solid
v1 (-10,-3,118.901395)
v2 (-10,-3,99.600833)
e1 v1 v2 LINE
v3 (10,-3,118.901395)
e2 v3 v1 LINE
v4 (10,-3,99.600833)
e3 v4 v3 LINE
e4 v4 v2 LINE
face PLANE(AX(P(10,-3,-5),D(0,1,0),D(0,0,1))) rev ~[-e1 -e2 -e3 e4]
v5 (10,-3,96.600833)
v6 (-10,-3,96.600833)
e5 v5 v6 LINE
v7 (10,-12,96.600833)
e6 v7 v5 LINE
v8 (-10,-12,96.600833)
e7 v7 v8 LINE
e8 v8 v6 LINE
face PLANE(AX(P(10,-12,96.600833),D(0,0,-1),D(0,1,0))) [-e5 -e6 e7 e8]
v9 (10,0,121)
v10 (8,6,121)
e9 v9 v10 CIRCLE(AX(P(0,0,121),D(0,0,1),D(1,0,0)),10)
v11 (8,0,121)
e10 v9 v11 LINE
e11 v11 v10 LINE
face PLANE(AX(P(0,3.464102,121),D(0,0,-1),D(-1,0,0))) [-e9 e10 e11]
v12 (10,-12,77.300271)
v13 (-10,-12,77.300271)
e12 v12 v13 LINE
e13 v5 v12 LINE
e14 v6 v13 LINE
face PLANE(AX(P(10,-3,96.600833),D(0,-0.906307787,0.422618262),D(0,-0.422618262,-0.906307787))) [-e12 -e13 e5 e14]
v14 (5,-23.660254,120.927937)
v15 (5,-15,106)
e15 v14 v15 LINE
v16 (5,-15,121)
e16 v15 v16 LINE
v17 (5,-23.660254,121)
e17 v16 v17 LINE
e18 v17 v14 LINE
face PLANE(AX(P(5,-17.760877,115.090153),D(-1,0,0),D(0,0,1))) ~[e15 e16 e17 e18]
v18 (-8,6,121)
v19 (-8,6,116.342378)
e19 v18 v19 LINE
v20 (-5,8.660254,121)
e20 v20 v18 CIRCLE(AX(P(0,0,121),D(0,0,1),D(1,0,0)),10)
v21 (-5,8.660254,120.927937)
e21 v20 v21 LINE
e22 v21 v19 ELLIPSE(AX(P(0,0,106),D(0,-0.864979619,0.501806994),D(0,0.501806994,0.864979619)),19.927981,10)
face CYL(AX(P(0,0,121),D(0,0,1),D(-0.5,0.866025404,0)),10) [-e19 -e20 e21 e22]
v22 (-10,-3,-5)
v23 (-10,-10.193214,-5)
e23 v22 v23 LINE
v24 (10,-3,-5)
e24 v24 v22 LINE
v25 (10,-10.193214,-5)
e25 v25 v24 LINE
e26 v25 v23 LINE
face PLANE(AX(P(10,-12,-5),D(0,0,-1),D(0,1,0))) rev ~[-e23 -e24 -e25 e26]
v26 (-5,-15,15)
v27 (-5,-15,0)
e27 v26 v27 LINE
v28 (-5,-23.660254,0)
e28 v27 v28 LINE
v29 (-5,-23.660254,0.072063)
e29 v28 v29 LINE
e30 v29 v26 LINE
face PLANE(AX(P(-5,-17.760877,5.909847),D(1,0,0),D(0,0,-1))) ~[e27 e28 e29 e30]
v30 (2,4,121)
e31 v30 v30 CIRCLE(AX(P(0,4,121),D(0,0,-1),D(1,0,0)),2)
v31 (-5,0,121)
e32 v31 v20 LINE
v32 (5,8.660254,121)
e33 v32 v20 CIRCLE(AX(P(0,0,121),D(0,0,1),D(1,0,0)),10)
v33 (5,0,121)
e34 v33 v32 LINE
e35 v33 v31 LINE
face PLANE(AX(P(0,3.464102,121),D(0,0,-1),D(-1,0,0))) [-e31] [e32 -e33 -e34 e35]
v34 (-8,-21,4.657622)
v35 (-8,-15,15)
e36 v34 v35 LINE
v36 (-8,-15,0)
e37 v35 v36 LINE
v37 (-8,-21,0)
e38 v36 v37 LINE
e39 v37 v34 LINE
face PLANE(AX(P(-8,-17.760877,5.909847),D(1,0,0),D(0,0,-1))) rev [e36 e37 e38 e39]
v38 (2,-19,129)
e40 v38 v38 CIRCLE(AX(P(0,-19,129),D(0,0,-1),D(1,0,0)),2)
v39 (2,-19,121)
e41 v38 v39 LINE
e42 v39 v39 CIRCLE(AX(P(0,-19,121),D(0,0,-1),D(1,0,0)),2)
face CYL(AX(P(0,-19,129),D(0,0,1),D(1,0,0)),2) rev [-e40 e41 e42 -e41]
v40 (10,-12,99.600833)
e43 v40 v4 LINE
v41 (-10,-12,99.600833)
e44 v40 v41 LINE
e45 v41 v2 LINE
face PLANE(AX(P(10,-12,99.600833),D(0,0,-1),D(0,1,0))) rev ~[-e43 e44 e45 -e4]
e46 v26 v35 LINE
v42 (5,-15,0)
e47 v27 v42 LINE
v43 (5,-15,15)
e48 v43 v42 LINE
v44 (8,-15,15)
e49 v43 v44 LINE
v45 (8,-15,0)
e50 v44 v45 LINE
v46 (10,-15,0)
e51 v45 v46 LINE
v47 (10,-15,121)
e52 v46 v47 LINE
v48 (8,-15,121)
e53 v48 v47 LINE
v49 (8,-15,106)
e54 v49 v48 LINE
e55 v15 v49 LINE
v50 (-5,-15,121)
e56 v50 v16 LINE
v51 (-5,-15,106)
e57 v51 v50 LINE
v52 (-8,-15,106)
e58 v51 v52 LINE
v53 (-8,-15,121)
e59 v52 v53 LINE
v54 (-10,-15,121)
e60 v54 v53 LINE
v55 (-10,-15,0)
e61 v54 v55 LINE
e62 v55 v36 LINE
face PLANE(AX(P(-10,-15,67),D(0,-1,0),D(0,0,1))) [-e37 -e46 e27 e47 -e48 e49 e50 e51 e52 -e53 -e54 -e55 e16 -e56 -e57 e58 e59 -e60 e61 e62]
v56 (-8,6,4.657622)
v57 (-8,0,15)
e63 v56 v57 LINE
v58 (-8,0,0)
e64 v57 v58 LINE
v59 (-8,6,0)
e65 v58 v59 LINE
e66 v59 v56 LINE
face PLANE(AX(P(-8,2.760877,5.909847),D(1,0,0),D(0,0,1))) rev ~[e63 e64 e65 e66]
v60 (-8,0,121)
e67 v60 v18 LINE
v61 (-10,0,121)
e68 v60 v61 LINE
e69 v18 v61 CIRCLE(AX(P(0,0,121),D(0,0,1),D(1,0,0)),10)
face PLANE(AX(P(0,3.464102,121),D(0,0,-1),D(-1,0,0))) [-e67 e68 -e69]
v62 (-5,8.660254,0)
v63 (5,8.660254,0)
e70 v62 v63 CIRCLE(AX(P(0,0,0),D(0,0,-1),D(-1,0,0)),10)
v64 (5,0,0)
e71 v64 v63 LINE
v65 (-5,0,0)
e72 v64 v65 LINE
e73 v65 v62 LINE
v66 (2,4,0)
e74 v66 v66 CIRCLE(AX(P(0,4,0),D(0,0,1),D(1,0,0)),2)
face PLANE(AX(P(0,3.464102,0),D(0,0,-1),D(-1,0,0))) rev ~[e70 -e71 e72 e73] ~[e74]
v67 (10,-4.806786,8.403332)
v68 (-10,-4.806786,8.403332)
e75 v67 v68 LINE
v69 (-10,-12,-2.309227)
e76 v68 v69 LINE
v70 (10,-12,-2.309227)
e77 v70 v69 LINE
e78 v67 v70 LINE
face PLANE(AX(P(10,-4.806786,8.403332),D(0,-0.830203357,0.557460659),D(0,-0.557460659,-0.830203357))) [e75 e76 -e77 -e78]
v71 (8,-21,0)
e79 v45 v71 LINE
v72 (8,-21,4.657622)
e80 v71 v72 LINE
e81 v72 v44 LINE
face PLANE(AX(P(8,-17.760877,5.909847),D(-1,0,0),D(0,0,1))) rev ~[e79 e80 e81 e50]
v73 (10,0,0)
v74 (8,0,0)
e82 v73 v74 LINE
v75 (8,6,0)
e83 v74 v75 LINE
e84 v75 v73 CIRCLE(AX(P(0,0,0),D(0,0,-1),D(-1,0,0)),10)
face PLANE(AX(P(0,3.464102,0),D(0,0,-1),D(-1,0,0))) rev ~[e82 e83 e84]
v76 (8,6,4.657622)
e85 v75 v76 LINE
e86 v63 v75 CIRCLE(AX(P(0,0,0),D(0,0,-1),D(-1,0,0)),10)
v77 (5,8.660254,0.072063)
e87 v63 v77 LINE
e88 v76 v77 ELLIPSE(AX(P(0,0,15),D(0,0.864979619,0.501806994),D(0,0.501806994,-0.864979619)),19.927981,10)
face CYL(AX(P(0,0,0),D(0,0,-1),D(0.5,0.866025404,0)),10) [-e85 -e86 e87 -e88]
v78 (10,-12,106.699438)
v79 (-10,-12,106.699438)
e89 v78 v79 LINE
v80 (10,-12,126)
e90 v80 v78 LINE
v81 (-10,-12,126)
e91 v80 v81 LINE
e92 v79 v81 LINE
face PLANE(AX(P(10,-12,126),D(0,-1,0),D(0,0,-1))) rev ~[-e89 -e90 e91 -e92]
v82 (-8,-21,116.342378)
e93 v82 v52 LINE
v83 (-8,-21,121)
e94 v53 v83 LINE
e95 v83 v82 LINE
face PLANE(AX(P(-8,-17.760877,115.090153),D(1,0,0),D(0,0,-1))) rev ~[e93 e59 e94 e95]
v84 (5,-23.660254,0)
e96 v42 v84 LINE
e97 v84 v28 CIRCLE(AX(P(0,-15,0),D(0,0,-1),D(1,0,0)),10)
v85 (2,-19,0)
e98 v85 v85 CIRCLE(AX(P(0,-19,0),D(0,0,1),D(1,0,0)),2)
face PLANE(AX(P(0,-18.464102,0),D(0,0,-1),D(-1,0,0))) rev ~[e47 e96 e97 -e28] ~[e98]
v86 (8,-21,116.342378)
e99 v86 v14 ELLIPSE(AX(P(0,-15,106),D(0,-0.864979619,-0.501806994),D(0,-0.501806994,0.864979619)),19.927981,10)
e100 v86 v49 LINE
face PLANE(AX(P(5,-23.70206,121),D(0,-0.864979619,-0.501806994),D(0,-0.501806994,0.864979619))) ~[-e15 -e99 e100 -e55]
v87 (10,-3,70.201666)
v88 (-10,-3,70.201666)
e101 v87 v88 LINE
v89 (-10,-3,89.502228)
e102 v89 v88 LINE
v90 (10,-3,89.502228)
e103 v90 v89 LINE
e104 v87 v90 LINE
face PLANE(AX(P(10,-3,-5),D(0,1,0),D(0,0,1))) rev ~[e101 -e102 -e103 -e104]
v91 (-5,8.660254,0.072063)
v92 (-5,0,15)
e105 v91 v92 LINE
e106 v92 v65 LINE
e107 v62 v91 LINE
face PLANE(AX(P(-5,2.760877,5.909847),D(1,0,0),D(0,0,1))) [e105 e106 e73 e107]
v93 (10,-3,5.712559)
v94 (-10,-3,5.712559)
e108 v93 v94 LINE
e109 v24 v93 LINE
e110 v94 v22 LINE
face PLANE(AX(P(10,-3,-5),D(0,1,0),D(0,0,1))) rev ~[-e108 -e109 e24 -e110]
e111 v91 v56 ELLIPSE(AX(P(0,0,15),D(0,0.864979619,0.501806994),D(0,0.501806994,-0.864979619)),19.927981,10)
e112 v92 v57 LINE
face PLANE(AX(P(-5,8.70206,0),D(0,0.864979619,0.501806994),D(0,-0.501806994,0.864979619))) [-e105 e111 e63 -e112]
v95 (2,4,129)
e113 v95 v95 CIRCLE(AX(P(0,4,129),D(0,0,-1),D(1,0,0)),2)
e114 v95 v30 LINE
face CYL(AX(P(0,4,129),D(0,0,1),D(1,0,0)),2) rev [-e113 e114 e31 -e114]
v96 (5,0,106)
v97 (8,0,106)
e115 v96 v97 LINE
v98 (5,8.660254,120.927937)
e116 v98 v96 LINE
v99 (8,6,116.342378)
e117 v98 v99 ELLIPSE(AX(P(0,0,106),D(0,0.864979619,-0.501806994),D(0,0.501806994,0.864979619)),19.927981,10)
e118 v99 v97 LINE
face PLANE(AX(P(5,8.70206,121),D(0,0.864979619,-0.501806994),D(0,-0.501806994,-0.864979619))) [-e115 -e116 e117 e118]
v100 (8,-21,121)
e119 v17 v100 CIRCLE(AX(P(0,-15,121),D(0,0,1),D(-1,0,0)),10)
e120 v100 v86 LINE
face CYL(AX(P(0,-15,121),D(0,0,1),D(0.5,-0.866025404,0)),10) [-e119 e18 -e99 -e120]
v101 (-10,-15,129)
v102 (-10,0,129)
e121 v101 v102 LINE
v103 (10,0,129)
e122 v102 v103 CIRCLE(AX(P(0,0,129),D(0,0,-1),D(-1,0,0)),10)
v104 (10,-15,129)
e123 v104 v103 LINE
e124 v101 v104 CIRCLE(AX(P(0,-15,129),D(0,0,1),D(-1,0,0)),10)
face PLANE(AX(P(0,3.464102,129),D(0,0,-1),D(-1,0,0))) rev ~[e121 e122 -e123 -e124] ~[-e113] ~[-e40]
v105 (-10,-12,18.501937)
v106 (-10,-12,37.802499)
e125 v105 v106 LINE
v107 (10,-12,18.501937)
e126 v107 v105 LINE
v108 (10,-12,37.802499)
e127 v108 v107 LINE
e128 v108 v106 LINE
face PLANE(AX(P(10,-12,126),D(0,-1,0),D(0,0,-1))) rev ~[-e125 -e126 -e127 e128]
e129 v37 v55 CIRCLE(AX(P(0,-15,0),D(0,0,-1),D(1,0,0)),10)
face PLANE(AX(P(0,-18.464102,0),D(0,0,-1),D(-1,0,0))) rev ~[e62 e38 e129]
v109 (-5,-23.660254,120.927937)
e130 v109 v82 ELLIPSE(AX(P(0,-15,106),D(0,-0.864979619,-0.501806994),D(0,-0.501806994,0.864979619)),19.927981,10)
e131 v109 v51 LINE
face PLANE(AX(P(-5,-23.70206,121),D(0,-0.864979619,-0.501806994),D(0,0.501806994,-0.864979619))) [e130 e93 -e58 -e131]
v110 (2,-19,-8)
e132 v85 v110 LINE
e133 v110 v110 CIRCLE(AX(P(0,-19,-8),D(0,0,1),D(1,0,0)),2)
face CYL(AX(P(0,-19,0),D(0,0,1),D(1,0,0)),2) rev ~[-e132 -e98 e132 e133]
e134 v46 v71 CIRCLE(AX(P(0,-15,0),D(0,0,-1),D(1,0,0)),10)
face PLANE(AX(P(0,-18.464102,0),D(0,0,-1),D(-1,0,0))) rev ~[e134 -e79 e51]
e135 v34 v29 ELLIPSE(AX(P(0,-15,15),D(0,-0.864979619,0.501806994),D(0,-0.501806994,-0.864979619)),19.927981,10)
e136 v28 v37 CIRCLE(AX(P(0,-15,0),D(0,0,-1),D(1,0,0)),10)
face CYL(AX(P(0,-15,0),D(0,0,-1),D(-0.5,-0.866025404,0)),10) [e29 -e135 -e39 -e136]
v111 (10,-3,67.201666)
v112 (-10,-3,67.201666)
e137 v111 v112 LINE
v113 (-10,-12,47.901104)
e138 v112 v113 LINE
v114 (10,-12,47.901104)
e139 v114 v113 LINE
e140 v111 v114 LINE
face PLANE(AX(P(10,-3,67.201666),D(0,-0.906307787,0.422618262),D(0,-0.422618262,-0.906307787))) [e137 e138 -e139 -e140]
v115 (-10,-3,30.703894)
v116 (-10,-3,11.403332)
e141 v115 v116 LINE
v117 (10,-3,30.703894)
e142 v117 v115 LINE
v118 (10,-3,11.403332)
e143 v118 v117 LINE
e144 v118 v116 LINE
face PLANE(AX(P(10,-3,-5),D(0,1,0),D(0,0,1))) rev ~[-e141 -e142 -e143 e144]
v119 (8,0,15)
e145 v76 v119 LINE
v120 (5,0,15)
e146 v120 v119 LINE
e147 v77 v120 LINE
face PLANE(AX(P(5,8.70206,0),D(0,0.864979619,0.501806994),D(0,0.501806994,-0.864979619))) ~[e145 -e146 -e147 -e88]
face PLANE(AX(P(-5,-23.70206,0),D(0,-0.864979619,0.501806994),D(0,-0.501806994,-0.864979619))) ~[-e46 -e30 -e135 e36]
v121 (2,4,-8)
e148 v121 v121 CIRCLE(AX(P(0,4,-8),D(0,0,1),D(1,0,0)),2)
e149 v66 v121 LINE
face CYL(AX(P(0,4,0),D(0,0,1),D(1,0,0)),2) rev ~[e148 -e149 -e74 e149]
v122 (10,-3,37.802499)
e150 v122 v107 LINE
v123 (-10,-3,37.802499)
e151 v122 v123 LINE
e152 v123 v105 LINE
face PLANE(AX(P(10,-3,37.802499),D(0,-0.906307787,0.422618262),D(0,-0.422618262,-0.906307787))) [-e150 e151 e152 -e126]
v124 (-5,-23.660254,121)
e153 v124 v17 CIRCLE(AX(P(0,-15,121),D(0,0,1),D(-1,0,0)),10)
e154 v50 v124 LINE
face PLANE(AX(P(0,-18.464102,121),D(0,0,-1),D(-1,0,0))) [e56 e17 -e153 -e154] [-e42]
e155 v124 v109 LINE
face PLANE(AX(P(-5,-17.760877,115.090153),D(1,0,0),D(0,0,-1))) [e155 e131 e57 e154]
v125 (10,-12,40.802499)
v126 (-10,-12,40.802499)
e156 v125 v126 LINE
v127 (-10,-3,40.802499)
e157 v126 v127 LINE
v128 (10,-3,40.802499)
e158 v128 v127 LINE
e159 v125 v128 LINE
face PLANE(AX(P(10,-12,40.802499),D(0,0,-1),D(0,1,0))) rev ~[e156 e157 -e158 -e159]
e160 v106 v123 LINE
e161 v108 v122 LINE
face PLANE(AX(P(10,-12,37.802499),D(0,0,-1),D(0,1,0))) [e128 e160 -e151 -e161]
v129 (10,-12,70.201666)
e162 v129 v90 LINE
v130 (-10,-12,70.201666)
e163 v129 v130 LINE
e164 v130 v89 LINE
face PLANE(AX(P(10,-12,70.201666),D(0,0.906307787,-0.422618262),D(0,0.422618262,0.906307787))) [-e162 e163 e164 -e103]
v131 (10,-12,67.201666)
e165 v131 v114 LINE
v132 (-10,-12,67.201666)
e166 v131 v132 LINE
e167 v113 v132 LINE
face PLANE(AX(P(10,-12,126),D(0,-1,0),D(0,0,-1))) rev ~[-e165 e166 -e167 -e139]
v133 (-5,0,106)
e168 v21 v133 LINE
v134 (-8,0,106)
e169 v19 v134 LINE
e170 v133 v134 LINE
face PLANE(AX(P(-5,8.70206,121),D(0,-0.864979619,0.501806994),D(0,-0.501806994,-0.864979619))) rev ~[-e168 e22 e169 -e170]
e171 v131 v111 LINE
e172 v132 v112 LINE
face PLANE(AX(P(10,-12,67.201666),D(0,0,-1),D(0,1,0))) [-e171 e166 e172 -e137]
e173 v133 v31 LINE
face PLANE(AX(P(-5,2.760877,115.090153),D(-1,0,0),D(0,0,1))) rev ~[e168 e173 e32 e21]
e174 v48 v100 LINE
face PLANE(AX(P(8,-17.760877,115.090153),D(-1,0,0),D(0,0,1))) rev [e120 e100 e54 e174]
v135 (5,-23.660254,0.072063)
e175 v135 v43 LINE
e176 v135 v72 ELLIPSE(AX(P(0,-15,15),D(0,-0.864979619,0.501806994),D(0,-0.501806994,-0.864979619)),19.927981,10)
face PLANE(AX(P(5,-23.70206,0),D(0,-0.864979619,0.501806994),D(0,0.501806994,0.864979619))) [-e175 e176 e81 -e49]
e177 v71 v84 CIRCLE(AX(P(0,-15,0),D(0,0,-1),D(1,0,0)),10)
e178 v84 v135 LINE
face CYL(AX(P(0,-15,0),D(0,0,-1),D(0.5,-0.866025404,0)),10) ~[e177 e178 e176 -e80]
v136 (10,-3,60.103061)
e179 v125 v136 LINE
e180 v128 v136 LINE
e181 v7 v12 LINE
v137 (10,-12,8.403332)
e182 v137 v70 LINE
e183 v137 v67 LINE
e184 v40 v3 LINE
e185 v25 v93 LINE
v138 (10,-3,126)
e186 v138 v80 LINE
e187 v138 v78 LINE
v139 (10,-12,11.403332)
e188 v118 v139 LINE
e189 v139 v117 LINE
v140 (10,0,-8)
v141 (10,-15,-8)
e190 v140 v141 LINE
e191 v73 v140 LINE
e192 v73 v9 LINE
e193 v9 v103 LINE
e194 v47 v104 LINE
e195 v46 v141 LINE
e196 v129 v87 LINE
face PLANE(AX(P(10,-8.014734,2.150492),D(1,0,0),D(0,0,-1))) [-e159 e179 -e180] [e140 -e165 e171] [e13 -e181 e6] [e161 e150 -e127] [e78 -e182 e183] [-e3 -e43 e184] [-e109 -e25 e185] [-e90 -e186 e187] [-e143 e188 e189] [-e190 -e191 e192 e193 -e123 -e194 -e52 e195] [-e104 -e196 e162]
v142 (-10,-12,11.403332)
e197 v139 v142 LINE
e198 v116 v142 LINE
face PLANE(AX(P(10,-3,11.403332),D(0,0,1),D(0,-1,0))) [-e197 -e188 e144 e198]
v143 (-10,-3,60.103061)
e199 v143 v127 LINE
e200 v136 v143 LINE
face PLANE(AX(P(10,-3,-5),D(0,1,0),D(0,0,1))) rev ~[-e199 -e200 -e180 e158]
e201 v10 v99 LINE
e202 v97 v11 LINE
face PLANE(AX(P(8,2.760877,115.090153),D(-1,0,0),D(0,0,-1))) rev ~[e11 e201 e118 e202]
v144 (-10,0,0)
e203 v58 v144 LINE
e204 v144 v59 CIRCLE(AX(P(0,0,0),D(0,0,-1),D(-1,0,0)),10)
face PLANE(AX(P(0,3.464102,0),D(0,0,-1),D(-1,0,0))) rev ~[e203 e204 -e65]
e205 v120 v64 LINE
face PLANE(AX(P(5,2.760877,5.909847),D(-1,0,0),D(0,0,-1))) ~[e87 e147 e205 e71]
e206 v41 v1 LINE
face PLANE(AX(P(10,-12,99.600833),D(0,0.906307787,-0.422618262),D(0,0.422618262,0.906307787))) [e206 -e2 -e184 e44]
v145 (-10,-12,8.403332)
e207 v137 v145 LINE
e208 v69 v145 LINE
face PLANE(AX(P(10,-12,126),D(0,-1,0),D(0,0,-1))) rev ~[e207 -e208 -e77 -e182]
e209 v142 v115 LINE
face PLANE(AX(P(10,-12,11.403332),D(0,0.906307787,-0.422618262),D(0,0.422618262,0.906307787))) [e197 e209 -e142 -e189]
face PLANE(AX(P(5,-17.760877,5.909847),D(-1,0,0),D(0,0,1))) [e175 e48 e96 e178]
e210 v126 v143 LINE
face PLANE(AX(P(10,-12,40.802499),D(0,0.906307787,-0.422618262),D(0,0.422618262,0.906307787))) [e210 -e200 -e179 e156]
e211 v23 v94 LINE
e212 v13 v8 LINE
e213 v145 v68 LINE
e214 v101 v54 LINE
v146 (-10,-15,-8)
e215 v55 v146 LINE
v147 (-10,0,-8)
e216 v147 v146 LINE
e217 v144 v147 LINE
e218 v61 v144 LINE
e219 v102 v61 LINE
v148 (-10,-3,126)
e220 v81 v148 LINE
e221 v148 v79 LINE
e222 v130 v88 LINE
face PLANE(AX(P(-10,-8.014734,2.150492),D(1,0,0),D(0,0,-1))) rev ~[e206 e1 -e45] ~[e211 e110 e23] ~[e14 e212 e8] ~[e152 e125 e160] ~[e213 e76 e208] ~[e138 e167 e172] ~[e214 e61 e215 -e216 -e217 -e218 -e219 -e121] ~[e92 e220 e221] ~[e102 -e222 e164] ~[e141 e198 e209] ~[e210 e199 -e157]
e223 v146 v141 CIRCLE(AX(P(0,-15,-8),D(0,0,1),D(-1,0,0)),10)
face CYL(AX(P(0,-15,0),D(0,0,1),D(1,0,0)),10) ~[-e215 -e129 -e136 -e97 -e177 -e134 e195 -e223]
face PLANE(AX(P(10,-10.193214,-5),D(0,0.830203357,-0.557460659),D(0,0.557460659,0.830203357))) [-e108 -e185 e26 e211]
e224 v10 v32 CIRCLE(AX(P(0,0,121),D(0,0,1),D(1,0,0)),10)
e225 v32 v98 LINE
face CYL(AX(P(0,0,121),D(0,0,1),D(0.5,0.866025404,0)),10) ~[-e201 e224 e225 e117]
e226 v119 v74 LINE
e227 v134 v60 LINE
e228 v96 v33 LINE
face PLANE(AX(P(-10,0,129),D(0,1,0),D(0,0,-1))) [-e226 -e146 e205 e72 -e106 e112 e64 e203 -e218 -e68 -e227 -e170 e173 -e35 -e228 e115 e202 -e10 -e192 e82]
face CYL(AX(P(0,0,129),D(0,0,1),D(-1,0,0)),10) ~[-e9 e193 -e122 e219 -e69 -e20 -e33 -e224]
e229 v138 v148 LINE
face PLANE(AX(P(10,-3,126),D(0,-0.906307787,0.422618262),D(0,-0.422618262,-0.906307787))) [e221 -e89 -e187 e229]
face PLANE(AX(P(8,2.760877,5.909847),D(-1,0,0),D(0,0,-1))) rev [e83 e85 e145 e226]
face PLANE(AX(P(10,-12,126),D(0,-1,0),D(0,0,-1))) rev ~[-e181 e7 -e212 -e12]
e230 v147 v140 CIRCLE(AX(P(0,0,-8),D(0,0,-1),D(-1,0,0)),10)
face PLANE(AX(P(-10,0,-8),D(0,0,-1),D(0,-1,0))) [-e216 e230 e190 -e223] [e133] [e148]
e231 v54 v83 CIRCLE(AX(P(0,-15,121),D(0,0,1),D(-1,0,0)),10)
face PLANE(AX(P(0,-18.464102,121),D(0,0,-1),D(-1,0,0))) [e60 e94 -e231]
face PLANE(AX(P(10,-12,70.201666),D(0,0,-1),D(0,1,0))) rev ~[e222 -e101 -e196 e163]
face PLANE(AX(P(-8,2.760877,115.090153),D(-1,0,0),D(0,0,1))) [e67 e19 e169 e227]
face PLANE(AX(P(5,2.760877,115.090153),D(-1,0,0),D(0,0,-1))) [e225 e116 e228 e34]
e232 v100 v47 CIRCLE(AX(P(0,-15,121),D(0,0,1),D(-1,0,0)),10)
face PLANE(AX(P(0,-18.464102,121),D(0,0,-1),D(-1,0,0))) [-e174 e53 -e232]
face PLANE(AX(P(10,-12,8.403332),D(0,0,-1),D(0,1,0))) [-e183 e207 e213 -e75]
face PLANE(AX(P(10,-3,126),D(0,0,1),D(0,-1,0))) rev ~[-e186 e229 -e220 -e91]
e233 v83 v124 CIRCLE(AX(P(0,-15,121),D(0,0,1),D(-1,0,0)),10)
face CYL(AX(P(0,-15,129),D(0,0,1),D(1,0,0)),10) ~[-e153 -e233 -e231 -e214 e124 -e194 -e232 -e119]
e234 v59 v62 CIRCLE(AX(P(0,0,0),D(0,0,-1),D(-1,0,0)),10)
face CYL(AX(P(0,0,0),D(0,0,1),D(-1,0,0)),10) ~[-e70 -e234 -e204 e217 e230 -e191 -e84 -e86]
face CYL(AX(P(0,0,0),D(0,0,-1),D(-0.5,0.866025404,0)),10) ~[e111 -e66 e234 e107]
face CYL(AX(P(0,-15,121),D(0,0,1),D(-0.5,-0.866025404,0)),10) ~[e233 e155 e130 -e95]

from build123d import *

# Parameters (mm, degrees)
SKETCH1_R             = 2
BOSS_EXTRUDE1_DEPTH   = 8
BOSS_EXTRUDE1_2_DEPTH = 8
BOSS_EXTRUDE2_DEPTH   = 20
BOSS_EXTRUDE3_DEPTH   = 20
BOSS_EXTRUDE4_START   = -8
SKETCH4_R             = 2
BOSS_EXTRUDE4_DEPTH   = 8
CUT_EXTRUDE1_DEPTH    = 133.91350571
SKETCH7_W             = 3
SKETCH7_H             = 9
BOSS_EXTRUDE5_DEPTH   = 20
BOSS_EXTRUDE6_DEPTH   = 3
CUT_EXTRUDE2_DEPTH    = 132.780119897
MIRROR2_COPY_1_DEPTH  = 3
MIRROR2_COPY_2_DEPTH  = 132.780119897
MIRROR3_COPY_1_DEPTH  = 3
MIRROR3_COPY_2_DEPTH  = 132.780119897
MIRROR3_COPY_3_DEPTH  = 3
MIRROR3_COPY_4_DEPTH  = 132.780119897
MIRROR3_COPY_5_DEPTH  = 3
MIRROR3_COPY_6_DEPTH  = 132.780119897


with BuildPart() as part:
    # Sketch1 → Boss-Extrude1 (new body)
    with BuildSketch(Plane.XY):
        with BuildLine():
            Line((-10, -15), (10, -15))
            ThreePointArc((10, -15), (0, -25), (-10, -15))
        make_face()
        with Locations((0, -19)):
            Circle(SKETCH1_R, mode=Mode.SUBTRACT)
    extrude(amount=-BOSS_EXTRUDE1_DEPTH)



with BuildPart() as body_2:
    # Sketch1 → Boss-Extrude1 2 (new body)
    with BuildSketch(Plane.XY):
        with BuildLine():
            Line((10, 0), (-10, 0))
            ThreePointArc((-10, 0), (0, 10), (10, 0))
        make_face()
        with Locations((0, 4)):
            Circle(SKETCH1_R, mode=Mode.SUBTRACT)
    extrude(amount=-BOSS_EXTRUDE1_2_DEPTH)


with BuildPart() as part_1:
    add(part.part)

    add(body_2.part)  # Boss-Extrude2 merges body 2
    # Sketch2 → Boss-Extrude2 (add)
    with BuildSketch(Plane.ZY.offset(10)):
        Polygon((0, -15), (67, -15), (67, -7.5), (54, -7.5), (54, 0), (0, 0), (-8, 0), (-8, -15), align=None)
    extrude(amount=-BOSS_EXTRUDE2_DEPTH)

    # Sketch3 → Boss-Extrude3 (add)
    with BuildSketch(Plane.ZY.offset(10)):
        Polygon((54, 0), (54, -7.5), (67, -7.5), (67, -15), (121, -15), (129, -15), (129, 0), (121, 0), align=None)
    extrude(amount=-BOSS_EXTRUDE3_DEPTH)

    # Sketch4 → Boss-Extrude4 (add)
    # profile 1 of 2: a face of its own
    with BuildSketch(Plane(origin=(0, 0, 121), x_dir=(-1, 0, 0), z_dir=(0, 0, -1)).offset(BOSS_EXTRUDE4_START)):
        with BuildLine():
            Line((-10, 0), (10, 0))
            ThreePointArc((10, 0), (0, 10), (-10, 0))
        make_face()
        with Locations(Location((0, 4, 0), (0, 0, 180))):
            Circle(SKETCH4_R, mode=Mode.SUBTRACT)
    # profile 2 of 2: a face of its own
    with BuildSketch(Plane(origin=(0, 0, 121), x_dir=(-1, 0, 0), z_dir=(0, 0, -1)).offset(BOSS_EXTRUDE4_START)):
        with BuildLine():
            Line((10, -15), (-10, -15))
            ThreePointArc((-10, -15), (0, -25), (10, -15))
        make_face()
        with Locations(Location((0, -19, 0), (0, 0, 180))):
            Circle(SKETCH4_R, mode=Mode.SUBTRACT)
    extrude(amount=BOSS_EXTRUDE4_DEPTH)

    # Sketch6 → Cut-Extrude1 (cut, through all)
    with BuildSketch(Plane(origin=(10, 0, 0), x_dir=(0, 0, -1), z_dir=(1, 0, 0))):
        Polygon((0, -3), (-121, -3), (-126, -3), (-126, -12), (-121, -12), (0, -12), (5, -12), (5, -3), align=None)
    extrude(amount=-CUT_EXTRUDE1_DEPTH, mode=Mode.SUBTRACT)

    # Sketch7 → Boss-Extrude5 (add)
    with BuildSketch(Plane(origin=(10, 0, 0), x_dir=(0, 0, -1), z_dir=(1, 0, 0))):
        Polygon((5, -12), (-8.403331864, -3), (-8.403331864, -4.806786238), (2.309227161, -12), align=None)
        Polygon((-5.712559024, -3), (-8.403331864, -3), (5, -12), (5, -10.193213762), align=None)
        Polygon((-11.403331864, -3), (-11.403331864, -12), (-8.403331864, -12), (-8.403331864, -4.806786238), (-8.403331864, -3), align=None)
        Polygon((-30.703894148, -3), (-37.802498898, -3), (-18.501936613, -12), (-11.403331864, -12), align=None)
        with Locations((-39.302498898, -7.5)):
            Rectangle(SKETCH7_W, SKETCH7_H)
        Polygon((-60.103061182, -3), (-67.201665932, -3), (-47.901103647, -12), (-40.802498898, -12), align=None)
        with Locations((-68.701665932, -7.5)):
            Rectangle(SKETCH7_W, SKETCH7_H)
        Polygon((-89.502228216, -3), (-96.600832966, -3), (-77.300270681, -12), (-70.201665932, -12), align=None)
        with Locations((-98.100832966, -7.5)):
            Rectangle(SKETCH7_W, SKETCH7_H)
        Polygon((-118.901395251, -3), (-126, -3), (-106.699437715, -12), (-99.600832966, -12), align=None)
    extrude(amount=-BOSS_EXTRUDE5_DEPTH)

    # Sketch9 → Boss-Extrude6 (add)
    with BuildSketch(Plane(origin=(5, 0, 0), x_dir=(0, 0, -1), z_dir=(1, 0, 0))):
        Polygon((0, -15), (0, -23.702060424), (-15, -15), align=None)
    boss_extrude6 = extrude(amount=BOSS_EXTRUDE6_DEPTH)

    # Sketch10 → Cut-Extrude2 (cut, through all)
    with BuildSketch(Plane(origin=(0, 0, 0), x_dir=(-1, 0, 0), z_dir=(0, 0, -1))):
        with BuildLine():
            Line((-8, -21), (-8, -23.702060424))
            Line((-8, -23.702060424), (-5, -23.702060424))
            Line((-5, -23.702060424), (-5, -23.660254038))
            ThreePointArc((-5, -23.660254038), (-6.634699532, -22.482029278), (-8, -21))
        make_face()
    cut_extrude2 = extrude(amount=-CUT_EXTRUDE2_DEPTH, mode=Mode.SUBTRACT)

    # Mirror1: Boss-Extrude6, Cut-Extrude2 across plane
    add(boss_extrude6.mirror(Plane(origin=(0, 0, 0), x_dir=(0, 0, 1), z_dir=(1, 0, 0))))
    add(cut_extrude2.mirror(Plane(origin=(0, 0, 0), x_dir=(0, 0, 1), z_dir=(1, 0, 0))), mode=Mode.SUBTRACT)

    # Mirror2: Boss-Extrude6, Cut-Extrude2 across plane
    add(boss_extrude6.mirror(Plane(origin=(0, 0, 60.5), x_dir=(1, 0, 0), z_dir=(0, 0, -1))))
    add(cut_extrude2.mirror(Plane(origin=(0, 0, 60.5), x_dir=(1, 0, 0), z_dir=(0, 0, -1))), mode=Mode.SUBTRACT)

    # Mirror2 copy 1 sketch → Mirror2 copy 1 (add)
    with BuildSketch(Plane(origin=(-5, 0, 121), x_dir=(0, 0, 1), z_dir=(-1, 0, 0))):
        Polygon((0, -15), (0, -23.702060424), (-15, -15), align=None)
    extrude(amount=MIRROR2_COPY_1_DEPTH)

    # Mirror2 copy 2 sketch → Mirror2 copy 2 (cut, through all)
    with BuildSketch(Plane.XY.offset(121)):
        with BuildLine():
            Line((-8, -21), (-8, -23.702060424))
            Line((-8, -23.702060424), (-5, -23.702060424))
            Line((-5, -23.702060424), (-5, -23.660254038))
            ThreePointArc((-5, -23.660254038), (-6.634699532, -22.482029278), (-8, -21))
        make_face()
    extrude(amount=-MIRROR2_COPY_2_DEPTH, mode=Mode.SUBTRACT)

    # Mirror3: Boss-Extrude6, Cut-Extrude2 across plane
    add(boss_extrude6.mirror(Plane.ZX.offset(-7.5)))
    add(cut_extrude2.mirror(Plane.ZX.offset(-7.5)), mode=Mode.SUBTRACT)

    # Mirror3 copy 1 sketch → Mirror3 copy 1 (add)
    with BuildSketch(Plane(origin=(-5, -15, 0), x_dir=(0, 0, -1), z_dir=(-1, 0, 0))):
        Polygon((0, -15), (0, -23.702060424), (-15, -15), align=None)
    extrude(amount=MIRROR3_COPY_1_DEPTH)

    # Mirror3 copy 2 sketch → Mirror3 copy 2 (cut, through all)
    with BuildSketch(Plane(origin=(0, -15, 0), x_dir=(1, 0, 0), z_dir=(0, 0, -1))):
        with BuildLine():
            Line((-8, -21), (-8, -23.702060424))
            Line((-8, -23.702060424), (-5, -23.702060424))
            Line((-5, -23.702060424), (-5, -23.660254038))
            ThreePointArc((-5, -23.660254038), (-6.634699532, -22.482029278), (-8, -21))
        make_face()
    extrude(amount=-MIRROR3_COPY_2_DEPTH, mode=Mode.SUBTRACT)

    # Mirror3 copy 3 sketch → Mirror3 copy 3 (add)
    with BuildSketch(Plane(origin=(5, -15, 121), x_dir=(0, 0, 1), z_dir=(1, 0, 0))):
        Polygon((0, -15), (0, -23.702060424), (-15, -15), align=None)
    extrude(amount=MIRROR3_COPY_3_DEPTH)

    # Mirror3 copy 4 sketch → Mirror3 copy 4 (cut, through all)
    with BuildSketch(Plane(origin=(0, -15, 121), x_dir=(-1, 0, 0), z_dir=(0, 0, 1))):
        with BuildLine():
            Line((-8, -21), (-8, -23.702060424))
            Line((-8, -23.702060424), (-5, -23.702060424))
            Line((-5, -23.702060424), (-5, -23.660254038))
            ThreePointArc((-5, -23.660254038), (-6.634699532, -22.482029278), (-8, -21))
        make_face()
    extrude(amount=-MIRROR3_COPY_4_DEPTH, mode=Mode.SUBTRACT)

    # Mirror3 copy 5 sketch → Mirror3 copy 5 (add)
    with BuildSketch(Plane(origin=(-5, -15, 121), x_dir=(0, 0, 1), z_dir=(-1, 0, 0))):
        Polygon((0, 15), (0, 23.702060424), (-15, 15), align=None)
    extrude(amount=MIRROR3_COPY_5_DEPTH)

    # Mirror3 copy 6 sketch → Mirror3 copy 6 (cut, through all)
    with BuildSketch(Plane(origin=(0, -15, 121), x_dir=(1, 0, 0), z_dir=(0, 0, 1))):
        with BuildLine():
            Line((-8, 21), (-8, 23.702060424))
            Line((-8, 23.702060424), (-5, 23.702060424))
            Line((-5, 23.702060424), (-5, 23.660254038))
            ThreePointArc((-5, 23.660254038), (-6.634699532, 22.482029278), (-8, 21))
        make_face()
    extrude(amount=-MIRROR3_COPY_6_DEPTH, mode=Mode.SUBTRACT)


solid = part_1.part
